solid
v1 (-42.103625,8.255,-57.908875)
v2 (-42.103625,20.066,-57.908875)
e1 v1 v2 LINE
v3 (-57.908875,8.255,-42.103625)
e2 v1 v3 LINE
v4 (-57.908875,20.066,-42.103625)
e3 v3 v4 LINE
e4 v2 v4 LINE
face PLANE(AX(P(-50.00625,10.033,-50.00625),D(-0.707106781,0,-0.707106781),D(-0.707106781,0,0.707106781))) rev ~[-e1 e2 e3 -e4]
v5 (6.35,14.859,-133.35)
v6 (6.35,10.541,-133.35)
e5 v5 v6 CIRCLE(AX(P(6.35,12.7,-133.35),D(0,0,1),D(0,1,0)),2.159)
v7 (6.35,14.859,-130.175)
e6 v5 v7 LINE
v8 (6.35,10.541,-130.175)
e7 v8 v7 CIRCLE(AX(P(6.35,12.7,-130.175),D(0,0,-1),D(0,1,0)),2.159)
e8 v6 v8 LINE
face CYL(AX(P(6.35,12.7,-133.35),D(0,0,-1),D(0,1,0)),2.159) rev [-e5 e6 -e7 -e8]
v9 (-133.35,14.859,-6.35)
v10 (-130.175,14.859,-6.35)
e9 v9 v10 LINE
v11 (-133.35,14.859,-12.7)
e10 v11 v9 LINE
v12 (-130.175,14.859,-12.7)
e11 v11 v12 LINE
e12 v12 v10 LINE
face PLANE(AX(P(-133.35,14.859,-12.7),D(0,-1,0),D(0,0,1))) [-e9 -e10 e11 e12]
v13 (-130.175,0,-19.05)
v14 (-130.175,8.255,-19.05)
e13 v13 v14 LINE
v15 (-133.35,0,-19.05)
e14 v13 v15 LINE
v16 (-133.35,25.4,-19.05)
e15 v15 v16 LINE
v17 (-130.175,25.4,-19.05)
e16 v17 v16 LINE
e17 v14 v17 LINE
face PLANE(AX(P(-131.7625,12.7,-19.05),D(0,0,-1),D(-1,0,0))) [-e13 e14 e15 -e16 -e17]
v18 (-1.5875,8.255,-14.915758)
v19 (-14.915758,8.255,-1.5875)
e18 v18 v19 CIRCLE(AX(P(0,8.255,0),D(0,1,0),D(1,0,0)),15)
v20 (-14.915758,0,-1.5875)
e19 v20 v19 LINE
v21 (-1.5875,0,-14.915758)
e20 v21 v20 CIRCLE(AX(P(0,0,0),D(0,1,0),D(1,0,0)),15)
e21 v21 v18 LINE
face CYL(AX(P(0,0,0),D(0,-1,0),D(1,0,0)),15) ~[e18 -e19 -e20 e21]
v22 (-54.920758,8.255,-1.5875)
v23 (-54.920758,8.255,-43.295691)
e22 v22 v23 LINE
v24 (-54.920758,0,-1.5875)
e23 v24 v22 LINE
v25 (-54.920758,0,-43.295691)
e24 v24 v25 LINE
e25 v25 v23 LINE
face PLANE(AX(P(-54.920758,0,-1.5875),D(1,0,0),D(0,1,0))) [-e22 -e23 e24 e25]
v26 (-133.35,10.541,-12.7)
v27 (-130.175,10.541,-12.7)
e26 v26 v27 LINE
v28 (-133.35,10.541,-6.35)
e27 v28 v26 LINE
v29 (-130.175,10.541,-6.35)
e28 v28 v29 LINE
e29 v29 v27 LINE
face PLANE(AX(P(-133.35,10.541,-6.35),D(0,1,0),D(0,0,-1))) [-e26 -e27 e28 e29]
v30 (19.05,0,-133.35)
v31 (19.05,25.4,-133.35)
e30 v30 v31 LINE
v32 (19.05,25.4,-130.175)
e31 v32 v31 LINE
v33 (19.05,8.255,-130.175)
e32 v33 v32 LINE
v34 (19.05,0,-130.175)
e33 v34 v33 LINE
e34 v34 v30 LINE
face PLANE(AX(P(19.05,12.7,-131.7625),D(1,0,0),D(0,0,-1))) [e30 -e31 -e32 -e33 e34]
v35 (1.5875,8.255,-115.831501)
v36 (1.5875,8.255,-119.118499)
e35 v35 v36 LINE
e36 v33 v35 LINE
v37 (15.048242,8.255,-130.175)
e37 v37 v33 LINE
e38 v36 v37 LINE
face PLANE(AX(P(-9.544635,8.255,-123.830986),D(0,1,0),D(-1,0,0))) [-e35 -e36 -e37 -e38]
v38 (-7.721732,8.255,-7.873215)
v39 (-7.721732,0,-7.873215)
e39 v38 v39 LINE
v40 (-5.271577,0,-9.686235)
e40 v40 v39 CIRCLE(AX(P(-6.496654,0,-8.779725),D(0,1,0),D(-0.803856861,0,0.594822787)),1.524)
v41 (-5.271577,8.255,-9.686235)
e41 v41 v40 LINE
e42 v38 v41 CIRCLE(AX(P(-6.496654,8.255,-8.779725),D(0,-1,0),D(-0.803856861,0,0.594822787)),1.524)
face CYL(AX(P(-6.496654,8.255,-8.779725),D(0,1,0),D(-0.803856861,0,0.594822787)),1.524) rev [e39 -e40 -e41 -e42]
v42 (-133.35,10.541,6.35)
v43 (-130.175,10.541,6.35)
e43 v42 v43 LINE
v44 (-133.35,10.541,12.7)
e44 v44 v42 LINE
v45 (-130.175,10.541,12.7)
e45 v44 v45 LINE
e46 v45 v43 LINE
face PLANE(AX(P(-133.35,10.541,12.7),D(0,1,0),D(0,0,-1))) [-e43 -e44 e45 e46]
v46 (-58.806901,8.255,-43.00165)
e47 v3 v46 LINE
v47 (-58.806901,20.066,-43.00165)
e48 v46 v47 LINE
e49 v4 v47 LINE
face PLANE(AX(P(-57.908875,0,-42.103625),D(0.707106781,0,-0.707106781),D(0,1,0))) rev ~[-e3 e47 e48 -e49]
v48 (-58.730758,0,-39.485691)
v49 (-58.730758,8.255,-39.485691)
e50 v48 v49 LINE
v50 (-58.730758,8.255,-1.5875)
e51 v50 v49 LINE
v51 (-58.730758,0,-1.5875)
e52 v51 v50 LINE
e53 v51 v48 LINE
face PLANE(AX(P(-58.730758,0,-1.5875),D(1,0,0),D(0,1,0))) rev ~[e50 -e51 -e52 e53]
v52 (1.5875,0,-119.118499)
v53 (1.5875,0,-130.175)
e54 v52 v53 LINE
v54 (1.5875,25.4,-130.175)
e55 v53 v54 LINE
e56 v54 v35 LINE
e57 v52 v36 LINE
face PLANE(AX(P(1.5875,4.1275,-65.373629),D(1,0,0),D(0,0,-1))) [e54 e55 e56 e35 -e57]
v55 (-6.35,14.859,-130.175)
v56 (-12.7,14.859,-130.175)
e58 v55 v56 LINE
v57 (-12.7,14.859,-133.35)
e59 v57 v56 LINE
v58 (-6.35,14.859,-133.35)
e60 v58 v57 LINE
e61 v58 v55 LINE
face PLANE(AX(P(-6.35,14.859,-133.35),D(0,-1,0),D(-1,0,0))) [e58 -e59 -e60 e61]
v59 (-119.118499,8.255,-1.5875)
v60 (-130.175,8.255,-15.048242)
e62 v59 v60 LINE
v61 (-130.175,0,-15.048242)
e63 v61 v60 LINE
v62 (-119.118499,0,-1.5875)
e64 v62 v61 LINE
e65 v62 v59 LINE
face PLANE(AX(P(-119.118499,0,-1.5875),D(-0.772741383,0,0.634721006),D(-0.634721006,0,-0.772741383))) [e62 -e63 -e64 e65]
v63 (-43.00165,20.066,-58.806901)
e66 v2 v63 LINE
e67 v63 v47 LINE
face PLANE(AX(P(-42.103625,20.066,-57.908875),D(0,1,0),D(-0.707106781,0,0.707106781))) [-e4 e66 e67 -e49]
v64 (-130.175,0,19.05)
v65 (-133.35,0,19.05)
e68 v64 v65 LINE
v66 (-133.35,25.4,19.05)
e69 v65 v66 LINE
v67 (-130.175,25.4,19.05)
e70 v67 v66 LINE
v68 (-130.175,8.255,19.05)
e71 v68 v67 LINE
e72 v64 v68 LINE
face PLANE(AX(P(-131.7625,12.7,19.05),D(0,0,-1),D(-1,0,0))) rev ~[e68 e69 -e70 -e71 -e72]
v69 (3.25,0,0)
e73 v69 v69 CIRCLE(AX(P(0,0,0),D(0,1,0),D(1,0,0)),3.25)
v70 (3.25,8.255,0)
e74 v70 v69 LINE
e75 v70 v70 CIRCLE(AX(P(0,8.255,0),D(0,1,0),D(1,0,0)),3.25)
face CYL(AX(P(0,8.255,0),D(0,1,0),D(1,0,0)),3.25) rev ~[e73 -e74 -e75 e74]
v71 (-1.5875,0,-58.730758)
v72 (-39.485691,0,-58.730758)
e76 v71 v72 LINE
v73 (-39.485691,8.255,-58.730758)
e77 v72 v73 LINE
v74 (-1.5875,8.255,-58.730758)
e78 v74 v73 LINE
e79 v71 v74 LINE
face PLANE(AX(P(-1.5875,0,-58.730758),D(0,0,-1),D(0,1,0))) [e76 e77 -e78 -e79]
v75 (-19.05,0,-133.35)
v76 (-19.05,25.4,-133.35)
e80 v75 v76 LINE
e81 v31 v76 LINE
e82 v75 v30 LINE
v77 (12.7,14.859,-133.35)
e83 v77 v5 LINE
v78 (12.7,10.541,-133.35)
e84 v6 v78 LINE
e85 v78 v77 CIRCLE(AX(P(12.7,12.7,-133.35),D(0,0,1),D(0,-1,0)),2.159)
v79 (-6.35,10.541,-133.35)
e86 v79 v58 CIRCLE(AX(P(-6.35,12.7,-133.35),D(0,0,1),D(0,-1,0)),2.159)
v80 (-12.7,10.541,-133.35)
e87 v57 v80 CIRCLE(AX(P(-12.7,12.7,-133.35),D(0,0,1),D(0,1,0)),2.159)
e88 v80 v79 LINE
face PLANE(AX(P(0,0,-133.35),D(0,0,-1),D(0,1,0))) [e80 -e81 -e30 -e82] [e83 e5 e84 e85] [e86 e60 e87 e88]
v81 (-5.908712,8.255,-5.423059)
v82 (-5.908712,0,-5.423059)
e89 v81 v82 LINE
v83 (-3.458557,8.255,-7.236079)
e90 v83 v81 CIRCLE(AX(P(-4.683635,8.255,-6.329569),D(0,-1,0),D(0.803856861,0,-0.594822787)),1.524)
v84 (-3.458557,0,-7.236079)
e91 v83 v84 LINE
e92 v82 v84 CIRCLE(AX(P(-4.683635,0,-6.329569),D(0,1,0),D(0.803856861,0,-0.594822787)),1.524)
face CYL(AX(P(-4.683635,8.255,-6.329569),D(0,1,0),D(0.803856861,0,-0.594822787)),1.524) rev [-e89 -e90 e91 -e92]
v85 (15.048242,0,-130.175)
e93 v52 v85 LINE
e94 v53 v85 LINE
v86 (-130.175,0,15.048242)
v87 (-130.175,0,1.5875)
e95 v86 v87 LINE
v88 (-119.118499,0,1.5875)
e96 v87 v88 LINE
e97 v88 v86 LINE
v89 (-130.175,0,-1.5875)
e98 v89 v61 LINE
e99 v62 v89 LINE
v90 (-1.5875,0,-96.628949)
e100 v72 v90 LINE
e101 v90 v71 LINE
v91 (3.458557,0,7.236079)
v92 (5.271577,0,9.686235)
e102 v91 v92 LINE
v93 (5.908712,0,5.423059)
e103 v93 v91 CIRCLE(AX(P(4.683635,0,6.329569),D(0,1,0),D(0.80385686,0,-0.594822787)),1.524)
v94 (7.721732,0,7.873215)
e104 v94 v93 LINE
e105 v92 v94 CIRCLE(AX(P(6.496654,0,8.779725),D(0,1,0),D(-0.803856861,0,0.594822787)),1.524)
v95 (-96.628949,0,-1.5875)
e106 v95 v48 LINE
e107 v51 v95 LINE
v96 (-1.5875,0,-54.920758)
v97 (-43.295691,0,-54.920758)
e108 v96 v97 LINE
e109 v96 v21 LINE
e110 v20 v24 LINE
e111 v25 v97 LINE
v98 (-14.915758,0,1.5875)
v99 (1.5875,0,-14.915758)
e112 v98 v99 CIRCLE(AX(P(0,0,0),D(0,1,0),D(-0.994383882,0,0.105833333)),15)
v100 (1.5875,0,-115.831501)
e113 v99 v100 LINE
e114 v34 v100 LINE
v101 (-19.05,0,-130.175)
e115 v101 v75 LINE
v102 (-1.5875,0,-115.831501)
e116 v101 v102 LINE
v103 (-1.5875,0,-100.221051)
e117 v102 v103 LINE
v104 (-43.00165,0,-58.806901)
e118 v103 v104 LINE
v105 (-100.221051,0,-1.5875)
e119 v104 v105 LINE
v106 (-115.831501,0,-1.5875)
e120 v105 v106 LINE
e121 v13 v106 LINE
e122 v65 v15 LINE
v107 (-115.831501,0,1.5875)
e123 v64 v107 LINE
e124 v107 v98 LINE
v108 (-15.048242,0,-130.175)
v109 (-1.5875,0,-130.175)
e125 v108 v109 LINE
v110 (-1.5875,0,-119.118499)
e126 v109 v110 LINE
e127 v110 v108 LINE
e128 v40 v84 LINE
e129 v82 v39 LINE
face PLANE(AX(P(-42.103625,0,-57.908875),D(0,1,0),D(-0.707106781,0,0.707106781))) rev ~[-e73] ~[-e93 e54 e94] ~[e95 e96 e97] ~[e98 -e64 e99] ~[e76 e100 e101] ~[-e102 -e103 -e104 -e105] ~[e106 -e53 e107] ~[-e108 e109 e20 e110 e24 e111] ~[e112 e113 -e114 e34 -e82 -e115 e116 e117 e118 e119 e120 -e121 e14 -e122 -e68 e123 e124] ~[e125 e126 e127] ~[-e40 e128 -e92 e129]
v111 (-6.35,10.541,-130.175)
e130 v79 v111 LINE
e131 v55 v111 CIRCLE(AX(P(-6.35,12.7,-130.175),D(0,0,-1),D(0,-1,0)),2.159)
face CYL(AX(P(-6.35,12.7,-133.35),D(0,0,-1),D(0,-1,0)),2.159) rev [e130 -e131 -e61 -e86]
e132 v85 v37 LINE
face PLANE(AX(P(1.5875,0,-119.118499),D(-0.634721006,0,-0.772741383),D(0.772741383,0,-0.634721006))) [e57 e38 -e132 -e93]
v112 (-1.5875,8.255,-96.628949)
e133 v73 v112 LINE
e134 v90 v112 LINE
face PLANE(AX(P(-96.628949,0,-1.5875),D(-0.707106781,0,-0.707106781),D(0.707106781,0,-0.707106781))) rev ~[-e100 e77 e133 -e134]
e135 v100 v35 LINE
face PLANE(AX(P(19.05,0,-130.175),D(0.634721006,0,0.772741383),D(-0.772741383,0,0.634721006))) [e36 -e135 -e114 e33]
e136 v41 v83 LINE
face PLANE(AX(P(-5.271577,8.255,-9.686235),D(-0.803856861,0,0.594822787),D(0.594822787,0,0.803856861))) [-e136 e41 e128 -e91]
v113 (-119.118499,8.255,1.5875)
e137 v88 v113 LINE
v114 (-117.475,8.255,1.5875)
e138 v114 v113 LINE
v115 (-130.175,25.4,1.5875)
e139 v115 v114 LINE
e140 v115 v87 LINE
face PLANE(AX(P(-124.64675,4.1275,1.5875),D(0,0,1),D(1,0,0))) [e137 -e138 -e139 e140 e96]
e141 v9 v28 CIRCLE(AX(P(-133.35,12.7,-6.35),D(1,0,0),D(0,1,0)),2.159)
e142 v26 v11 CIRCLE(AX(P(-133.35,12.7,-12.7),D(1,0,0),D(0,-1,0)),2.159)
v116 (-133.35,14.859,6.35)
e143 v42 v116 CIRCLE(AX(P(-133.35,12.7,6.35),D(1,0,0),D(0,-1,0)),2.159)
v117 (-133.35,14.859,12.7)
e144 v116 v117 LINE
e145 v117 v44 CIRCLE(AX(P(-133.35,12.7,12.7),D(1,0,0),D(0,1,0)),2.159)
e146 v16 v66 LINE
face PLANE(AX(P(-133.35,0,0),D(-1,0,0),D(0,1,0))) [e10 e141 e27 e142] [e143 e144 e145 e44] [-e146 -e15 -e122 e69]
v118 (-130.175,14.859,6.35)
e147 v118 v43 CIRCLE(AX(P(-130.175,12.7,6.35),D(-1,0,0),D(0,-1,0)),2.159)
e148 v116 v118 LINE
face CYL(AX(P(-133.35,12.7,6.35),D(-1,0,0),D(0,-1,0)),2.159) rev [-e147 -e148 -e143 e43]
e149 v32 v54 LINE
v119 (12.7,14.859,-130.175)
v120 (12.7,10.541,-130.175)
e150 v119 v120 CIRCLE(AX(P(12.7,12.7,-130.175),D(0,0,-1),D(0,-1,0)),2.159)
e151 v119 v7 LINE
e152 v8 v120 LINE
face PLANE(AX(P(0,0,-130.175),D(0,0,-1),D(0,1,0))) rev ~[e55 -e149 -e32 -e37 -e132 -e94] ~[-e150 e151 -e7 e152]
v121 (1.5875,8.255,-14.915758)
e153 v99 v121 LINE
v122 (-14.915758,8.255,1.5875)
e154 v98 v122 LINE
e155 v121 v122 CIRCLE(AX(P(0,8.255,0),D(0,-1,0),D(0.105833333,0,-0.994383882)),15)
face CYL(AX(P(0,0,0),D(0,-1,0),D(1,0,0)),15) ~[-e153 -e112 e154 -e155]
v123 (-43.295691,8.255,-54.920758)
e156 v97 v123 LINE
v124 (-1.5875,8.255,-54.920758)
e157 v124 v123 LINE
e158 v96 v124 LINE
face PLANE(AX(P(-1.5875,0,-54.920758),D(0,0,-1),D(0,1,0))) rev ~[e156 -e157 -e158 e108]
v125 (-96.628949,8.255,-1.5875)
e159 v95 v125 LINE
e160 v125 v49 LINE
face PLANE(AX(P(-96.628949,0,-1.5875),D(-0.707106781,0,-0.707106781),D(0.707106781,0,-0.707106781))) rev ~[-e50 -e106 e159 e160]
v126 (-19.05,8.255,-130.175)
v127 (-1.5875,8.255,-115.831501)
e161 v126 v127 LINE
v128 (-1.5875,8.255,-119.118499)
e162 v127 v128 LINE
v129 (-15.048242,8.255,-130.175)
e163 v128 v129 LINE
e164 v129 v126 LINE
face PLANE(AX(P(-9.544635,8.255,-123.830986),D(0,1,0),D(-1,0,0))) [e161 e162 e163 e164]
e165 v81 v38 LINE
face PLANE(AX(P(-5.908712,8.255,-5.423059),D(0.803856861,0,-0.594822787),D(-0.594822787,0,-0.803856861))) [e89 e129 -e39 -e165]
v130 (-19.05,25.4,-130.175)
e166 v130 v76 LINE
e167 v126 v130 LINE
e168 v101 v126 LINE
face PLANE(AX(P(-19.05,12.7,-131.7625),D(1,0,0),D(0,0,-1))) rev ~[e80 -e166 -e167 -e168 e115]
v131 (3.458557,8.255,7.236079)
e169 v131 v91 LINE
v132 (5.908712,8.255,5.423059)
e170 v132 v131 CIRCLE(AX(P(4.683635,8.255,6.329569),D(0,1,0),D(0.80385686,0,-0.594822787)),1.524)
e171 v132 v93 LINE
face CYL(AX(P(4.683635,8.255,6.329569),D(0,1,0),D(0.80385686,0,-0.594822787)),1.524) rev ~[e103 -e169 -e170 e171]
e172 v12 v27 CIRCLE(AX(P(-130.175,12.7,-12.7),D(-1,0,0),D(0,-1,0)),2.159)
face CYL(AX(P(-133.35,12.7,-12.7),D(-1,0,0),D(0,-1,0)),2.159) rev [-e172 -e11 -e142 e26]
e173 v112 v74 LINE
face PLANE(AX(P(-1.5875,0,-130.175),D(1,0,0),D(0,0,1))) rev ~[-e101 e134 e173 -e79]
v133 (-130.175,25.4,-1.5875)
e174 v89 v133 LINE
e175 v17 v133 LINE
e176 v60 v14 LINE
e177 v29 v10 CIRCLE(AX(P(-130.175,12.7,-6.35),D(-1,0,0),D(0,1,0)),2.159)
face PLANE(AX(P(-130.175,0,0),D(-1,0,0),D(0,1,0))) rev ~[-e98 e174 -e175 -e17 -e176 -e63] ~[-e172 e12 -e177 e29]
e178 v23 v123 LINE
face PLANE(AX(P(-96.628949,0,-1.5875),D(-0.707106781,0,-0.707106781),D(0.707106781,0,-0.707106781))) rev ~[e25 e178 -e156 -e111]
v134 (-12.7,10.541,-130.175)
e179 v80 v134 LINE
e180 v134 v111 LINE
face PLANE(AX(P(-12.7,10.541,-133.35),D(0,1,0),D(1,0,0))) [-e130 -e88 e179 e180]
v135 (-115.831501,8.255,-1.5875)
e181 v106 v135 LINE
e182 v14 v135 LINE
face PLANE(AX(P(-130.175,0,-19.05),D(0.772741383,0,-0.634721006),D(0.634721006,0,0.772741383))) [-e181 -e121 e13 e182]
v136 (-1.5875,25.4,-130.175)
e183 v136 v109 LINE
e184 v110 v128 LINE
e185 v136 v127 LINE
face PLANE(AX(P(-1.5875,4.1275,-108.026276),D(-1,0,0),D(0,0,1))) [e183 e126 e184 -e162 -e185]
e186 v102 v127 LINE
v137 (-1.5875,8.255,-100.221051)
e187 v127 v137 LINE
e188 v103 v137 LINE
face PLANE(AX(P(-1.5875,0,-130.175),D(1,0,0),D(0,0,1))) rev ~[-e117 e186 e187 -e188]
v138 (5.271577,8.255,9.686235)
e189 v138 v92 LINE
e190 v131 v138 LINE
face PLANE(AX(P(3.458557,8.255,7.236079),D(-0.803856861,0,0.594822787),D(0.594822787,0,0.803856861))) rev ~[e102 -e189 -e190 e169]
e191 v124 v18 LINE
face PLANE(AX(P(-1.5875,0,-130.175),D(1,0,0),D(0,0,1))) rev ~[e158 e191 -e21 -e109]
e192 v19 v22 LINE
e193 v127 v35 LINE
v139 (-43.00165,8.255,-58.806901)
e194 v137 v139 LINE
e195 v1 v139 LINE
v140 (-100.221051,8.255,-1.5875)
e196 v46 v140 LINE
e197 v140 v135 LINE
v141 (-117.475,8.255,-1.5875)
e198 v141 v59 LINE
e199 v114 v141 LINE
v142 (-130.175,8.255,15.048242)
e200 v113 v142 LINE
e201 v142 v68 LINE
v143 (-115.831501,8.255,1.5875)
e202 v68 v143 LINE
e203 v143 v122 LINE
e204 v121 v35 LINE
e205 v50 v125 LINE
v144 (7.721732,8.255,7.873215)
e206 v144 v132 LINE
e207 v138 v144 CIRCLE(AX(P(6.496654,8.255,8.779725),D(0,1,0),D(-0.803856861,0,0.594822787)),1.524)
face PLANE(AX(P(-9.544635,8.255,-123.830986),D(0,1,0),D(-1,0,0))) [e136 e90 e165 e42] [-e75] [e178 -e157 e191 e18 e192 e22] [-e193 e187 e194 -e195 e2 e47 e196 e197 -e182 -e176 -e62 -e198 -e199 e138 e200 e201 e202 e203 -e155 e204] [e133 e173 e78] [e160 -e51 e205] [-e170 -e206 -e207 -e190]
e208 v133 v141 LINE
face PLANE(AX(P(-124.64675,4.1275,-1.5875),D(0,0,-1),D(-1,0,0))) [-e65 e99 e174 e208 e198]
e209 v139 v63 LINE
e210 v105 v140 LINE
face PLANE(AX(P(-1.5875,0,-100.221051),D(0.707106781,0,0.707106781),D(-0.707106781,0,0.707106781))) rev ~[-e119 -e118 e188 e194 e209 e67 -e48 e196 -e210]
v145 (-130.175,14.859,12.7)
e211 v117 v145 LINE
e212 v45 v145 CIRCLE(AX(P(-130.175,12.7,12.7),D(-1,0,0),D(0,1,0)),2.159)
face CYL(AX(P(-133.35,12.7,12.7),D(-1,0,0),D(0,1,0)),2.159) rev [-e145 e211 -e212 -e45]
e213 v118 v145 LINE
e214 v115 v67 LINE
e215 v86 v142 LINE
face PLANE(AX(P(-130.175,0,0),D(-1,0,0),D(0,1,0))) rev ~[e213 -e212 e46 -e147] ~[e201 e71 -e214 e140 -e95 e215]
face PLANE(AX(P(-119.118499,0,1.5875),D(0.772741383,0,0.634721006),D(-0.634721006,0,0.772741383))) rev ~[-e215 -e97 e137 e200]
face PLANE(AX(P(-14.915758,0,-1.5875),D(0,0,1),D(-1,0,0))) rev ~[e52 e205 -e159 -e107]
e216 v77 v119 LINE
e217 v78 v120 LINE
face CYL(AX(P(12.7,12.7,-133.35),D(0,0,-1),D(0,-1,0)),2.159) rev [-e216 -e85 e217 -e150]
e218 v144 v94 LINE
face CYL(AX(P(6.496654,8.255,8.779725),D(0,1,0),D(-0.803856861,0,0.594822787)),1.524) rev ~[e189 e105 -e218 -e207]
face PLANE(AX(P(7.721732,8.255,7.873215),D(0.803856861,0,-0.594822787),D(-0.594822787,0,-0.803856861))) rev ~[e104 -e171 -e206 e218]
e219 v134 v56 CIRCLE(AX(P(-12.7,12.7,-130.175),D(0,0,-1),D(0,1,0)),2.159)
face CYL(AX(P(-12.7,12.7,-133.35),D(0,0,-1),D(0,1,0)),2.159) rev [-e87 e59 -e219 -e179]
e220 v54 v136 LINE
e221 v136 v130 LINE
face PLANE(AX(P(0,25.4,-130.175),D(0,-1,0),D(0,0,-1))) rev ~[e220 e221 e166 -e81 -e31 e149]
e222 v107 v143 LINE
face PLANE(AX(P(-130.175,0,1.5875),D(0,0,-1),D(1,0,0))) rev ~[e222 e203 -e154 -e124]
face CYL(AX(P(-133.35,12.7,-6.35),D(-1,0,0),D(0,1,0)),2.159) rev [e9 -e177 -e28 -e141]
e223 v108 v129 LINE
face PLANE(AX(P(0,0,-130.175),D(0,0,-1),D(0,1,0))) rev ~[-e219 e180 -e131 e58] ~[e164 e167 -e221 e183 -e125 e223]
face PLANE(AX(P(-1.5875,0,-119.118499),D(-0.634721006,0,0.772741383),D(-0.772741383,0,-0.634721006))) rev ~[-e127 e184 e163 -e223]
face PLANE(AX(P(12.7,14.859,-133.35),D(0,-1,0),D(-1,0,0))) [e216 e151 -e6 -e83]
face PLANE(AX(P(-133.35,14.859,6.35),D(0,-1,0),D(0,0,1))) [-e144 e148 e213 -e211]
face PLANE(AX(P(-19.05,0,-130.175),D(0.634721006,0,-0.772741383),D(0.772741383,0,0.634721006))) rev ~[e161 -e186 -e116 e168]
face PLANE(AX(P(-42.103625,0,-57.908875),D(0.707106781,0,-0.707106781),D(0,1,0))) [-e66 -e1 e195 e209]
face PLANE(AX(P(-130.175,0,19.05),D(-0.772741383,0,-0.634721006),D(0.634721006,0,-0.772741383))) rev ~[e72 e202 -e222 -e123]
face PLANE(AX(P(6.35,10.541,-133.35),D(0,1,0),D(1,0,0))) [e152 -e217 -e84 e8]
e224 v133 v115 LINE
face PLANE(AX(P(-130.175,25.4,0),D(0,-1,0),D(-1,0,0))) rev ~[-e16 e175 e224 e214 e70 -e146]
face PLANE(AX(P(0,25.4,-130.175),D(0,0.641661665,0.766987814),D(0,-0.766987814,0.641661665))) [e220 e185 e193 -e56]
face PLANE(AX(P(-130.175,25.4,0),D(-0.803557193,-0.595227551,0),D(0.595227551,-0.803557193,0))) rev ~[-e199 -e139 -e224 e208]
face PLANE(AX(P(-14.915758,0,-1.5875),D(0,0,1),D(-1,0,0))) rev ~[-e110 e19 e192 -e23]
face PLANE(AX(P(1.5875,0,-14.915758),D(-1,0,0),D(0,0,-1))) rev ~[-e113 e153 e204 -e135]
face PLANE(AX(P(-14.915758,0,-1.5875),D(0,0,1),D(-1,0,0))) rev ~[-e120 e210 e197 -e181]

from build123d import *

# Parameters (mm, degrees)
SKETCH1_R                       = 15
BOSS_EXTRUDE2_DEPTH             = 8.255
BOSS_EXTRUDE3_DEPTH             = 8.255
SKETCH5_R                       = 3.249999977
CUT_EXTRUDE3_DEPTH              = 63.5
SKETCH7_W                       = 3.175
SKETCH7_H                       = 25.4
BOSS_EXTRUDE5_DEPTH             = 19.05
CUT_EXTRUDE6_DEPTH              = 149.35
CIRPATTERN2_COUNT               = 2
CIRPATTERN2_ANGLE               = 90
CIRPATTERN3_COUNT               = 2
CIRPATTERN3_ANGLE               = 90
BOSS_EXTRUDE6_DEPTH             = 8.255
BOSS_EXTRUDE7_REACH             = 21.05
BOSS_EXTRUDE7_DIRECTION_2_REACH = 135.35
BOSS_EXTRUDE8_REACH             = 21.05
BOSS_EXTRUDE8_DIRECTION_2_REACH = 135.35
BOSS_EXTRUDE9_REACH             = 133.763
SKETCH19_W                      = 3.81
SKETCH19_H                      = 8.255
BOSS_EXTRUDE10_REACH            = 133.763
SKETCH20_W                      = 3.81
SKETCH20_H                      = 8.255
SKETCH21_W                      = 22.352
SKETCH21_H                      = 20.066
BOSS_EXTRUDE11_DEPTH            = 1.27


with BuildPart() as part:
    # Sketch1 → Boss-Extrude2 (new body)
    with BuildSketch(Plane(origin=(0, 0, 0), x_dir=(1, 0, 0), z_dir=(0, 1, 0))):
        Circle(SKETCH1_R)
    extrude(amount=BOSS_EXTRUDE2_DEPTH)

    # Sketch1<6> → Boss-Extrude3 (add)
    with BuildSketch(Plane(origin=(0, 0, 0), x_dir=(1, 0, 0), z_dir=(0, 1, 0))):
        with BuildLine():
            Line((-1.5875, 130.175), (-1.5875, 14.915758236))
            ThreePointArc((-1.5875, 14.915758236), (0, 15), (1.5875, 14.915758236))
            Line((1.5875, 14.915758236), (1.5875, 130.175))
            Line((1.5875, 130.175), (-1.5875, 130.175))
        make_face()
        with BuildLine():
            ThreePointArc((-14.915758236, -1.5875), (-15, 0), (-14.915758236, 1.5875))
            Line((-14.915758236, 1.5875), (-130.175, 1.5875))
            Line((-130.175, 1.5875), (-130.175, -1.5875))
            Line((-130.175, -1.5875), (-14.915758236, -1.5875))
        make_face()
    extrude(amount=BOSS_EXTRUDE3_DEPTH)

    # Sketch5 → Cut-Extrude3 (cut)
    with BuildSketch(Plane(origin=(0, 8.255, 0), x_dir=(1, 0, 0), z_dir=(0, 1, 0))):
        Circle(SKETCH5_R)
        with BuildLine():
            Line((-5.908712478, 5.423058993), (-7.721732332, 7.873214705))
            ThreePointArc((-7.721732332, 7.873214705), (-7.403164404, 10.004802487), (-5.271576621, 9.686234559))
            Line((-5.271576621, 9.686234559), (-3.458556767, 7.236078848))
            ThreePointArc((-3.458556767, 7.236078848), (-3.777124696, 5.104491065), (-5.908712478, 5.423058993))
        make_face()
        with BuildLine():
            Line((3.458556767, -7.236078848), (5.271576621, -9.686234559))
            ThreePointArc((5.271576621, -9.686234559), (7.403164404, -10.004802487), (7.721732332, -7.873214705))
            Line((7.721732332, -7.873214705), (5.908712478, -5.423058993))
            ThreePointArc((5.908712478, -5.423058993), (3.777124696, -5.104491065), (3.458556767, -7.236078848))
        make_face()
    extrude(amount=-CUT_EXTRUDE3_DEPTH, mode=Mode.SUBTRACT)

    # Sketch7 → Boss-Extrude5 (add, symmetric)
    with BuildSketch(Plane(origin=(0, 0, 0), x_dir=(0, 0, -1), z_dir=(1, 0, 0))):
        with Locations((131.7625, 12.7)):
            Rectangle(SKETCH7_W, SKETCH7_H)
    boss_extrude5 = extrude(amount=BOSS_EXTRUDE5_DEPTH, both=True)

    # Sketch12 → Cut-Extrude6 (cut, through all)
    with BuildSketch(Plane(origin=(0, 0, -133.35), x_dir=(-1, 0, 0), z_dir=(0, 0, -1))):
        with BuildLine():
            Line((-6.35, 10.541), (-12.7, 10.541))
            ThreePointArc((-12.7, 10.541), (-14.859, 12.7), (-12.7, 14.859))
            Line((-12.7, 14.859), (-6.35, 14.859))
            ThreePointArc((-6.35, 14.859), (-4.191, 12.7), (-6.35, 10.541))
        make_face()
        with BuildLine():
            Line((6.35, 14.859), (12.7, 14.859))
            ThreePointArc((12.7, 14.859), (14.859, 12.7), (12.7, 10.541))
            Line((12.7, 10.541), (6.35, 10.541))
            ThreePointArc((6.35, 10.541), (4.191, 12.7), (6.35, 14.859))
        make_face()
    cut_extrude6 = extrude(amount=-CUT_EXTRUDE6_DEPTH, mode=Mode.SUBTRACT)

    # CirPattern2: Boss-Extrude5 ×2 about axis
    cirpattern2_axis = Axis((0, 0, 0), (0, 1, 0))
    for i in range(1, CIRPATTERN2_COUNT):
        add(boss_extrude5.rotate(cirpattern2_axis, i * CIRPATTERN2_ANGLE / (CIRPATTERN2_COUNT - 1)))

    # CirPattern3: Cut-Extrude6 ×2 about axis
    cirpattern3_axis = Axis((0, 0, 0), (0, 1, 0))
    for i in range(1, CIRPATTERN3_COUNT):
        add(cut_extrude6.rotate(cirpattern3_axis, i * CIRPATTERN3_ANGLE / (CIRPATTERN3_COUNT - 1)), mode=Mode.SUBTRACT)

    # Sketch13 → Boss-Extrude6 (add)
    with BuildSketch(Plane.XZ):
        Polygon((-96.628948776, -1.5875), (-1.5875, -96.628948776), (-1.5875, -100.221051224), (-100.221051224, -1.5875), align=None)
        Polygon((-19.05, -130.175), (-1.5875, -115.831500599), (-1.5875, -119.118499401), (-15.048241783, -130.175), align=None)
        Polygon((19.05, -130.175), (1.5875, -115.831500599), (1.5875, -119.118499401), (15.048241783, -130.175), align=None)
        Polygon((-119.118499401, 1.5875), (-130.175, 15.048241783), (-130.175, 19.05), (-115.831500599, 1.5875), align=None)
        Polygon((-119.118499401, -1.5875), (-130.175, -15.048241783), (-130.175, -19.05), (-115.831500599, -1.5875), align=None)
    extrude(amount=-BOSS_EXTRUDE6_DEPTH)

    # Boss-Extrude7: up to this face of the body (flat: up to its plane)
    boss_extrude7_end = Plane(part.part.faces().sort_by_distance((-124.646749701, 4.1275, 1.5875))[0])
    # Sketch14 → Boss-Extrude7 (add, up to the picked face)
    with BuildSketch(Plane.XY, mode=Mode.PRIVATE) as boss_extrude7_sk1:
        Polygon((-130.175, 25.4), (-117.475, 8.255), (-130.175, 8.255), align=None)
    boss_extrude7_tool1 = split(extrude(boss_extrude7_sk1.sketch, amount=BOSS_EXTRUDE7_REACH, mode=Mode.PRIVATE), bisect_by=boss_extrude7_end, keep=Keep.BOTH, mode=Mode.PRIVATE)
    add(boss_extrude7_tool1.solids().sort_by_distance((-125.941667, 13.97, 0))[0])

    # Boss-Extrude7 direction 2: up to this face of the body (flat: up to its plane)
    boss_extrude7_direction_2_end = Plane(part.part.faces().sort_by_distance((-124.646749701, 4.1275, -1.5875))[0])
    # Sketch14 → Boss-Extrude7 direction 2 (add, up to the picked face)
    with BuildSketch(Plane.XY, mode=Mode.PRIVATE) as boss_extrude7_direction_2_sk1:
        Polygon((-130.175, 25.4), (-117.475, 8.255), (-130.175, 8.255), align=None)
    boss_extrude7_direction_2_tool1 = split(extrude(boss_extrude7_direction_2_sk1.sketch, amount=-BOSS_EXTRUDE7_DIRECTION_2_REACH, mode=Mode.PRIVATE), bisect_by=boss_extrude7_direction_2_end, keep=Keep.BOTH, mode=Mode.PRIVATE)
    add(boss_extrude7_direction_2_tool1.solids().sort_by_distance((-125.941667, 13.97, 0))[0])

    # Boss-Extrude8: up to this face of the body (flat: up to its plane)
    boss_extrude8_end = Plane(part.part.faces().sort_by_distance((1.5875, 4.1275, -65.373629417))[0])
    # Sketch15 → Boss-Extrude8 (add, up to the picked face)
    with BuildSketch(Plane(origin=(0, 0, 0), x_dir=(0, 0, -1), z_dir=(1, 0, 0)), mode=Mode.PRIVATE) as boss_extrude8_sk1:
        Polygon((130.175, 25.4), (115.831500599, 8.255), (130.175, 8.255), align=None)
    boss_extrude8_tool1 = split(extrude(boss_extrude8_sk1.sketch, amount=BOSS_EXTRUDE8_REACH, mode=Mode.PRIVATE), bisect_by=boss_extrude8_end, keep=Keep.BOTH, mode=Mode.PRIVATE)
    add(boss_extrude8_tool1.solids().sort_by_distance((0, 13.97, -125.393834))[0])

    # Boss-Extrude8 direction 2: up to this face of the body (flat: up to its plane)
    boss_extrude8_direction_2_end = Plane(part.part.faces().sort_by_distance((-1.5875, 4.1275, -108.026275912))[0])
    # Sketch15 → Boss-Extrude8 direction 2 (add, up to the picked face)
    with BuildSketch(Plane(origin=(0, 0, 0), x_dir=(0, 0, -1), z_dir=(1, 0, 0)), mode=Mode.PRIVATE) as boss_extrude8_direction_2_sk1:
        Polygon((130.175, 25.4), (115.831500599, 8.255), (130.175, 8.255), align=None)
    boss_extrude8_direction_2_tool1 = split(extrude(boss_extrude8_direction_2_sk1.sketch, amount=-BOSS_EXTRUDE8_DIRECTION_2_REACH, mode=Mode.PRIVATE), bisect_by=boss_extrude8_direction_2_end, keep=Keep.BOTH, mode=Mode.PRIVATE)
    add(boss_extrude8_direction_2_tool1.solids().sort_by_distance((0, 13.97, -125.393834))[0])

    # Sketch19 → Boss-Extrude9 (add, up to next)
    with BuildSketch(Plane.ZY.offset(1.5875), mode=Mode.PRIVATE) as boss_extrude9_sk1:
        with Locations((-56.825758236, 4.1275)):
            Rectangle(SKETCH19_W, SKETCH19_H)
    boss_extrude9_tool1 = extrude(boss_extrude9_sk1.sketch, amount=BOSS_EXTRUDE9_REACH, mode=Mode.PRIVATE) - part.part
    add(boss_extrude9_tool1.solids().sort_by_distance((-1.5875, 4.1275, -56.825758))[0])

    # Sketch20 → Boss-Extrude10 (add, up to next)
    with BuildSketch(Plane(origin=(0, 0, -1.5875), x_dir=(-1, 0, 0), z_dir=(0, 0, -1)), mode=Mode.PRIVATE) as boss_extrude10_sk1:
        with Locations((56.825758236, 4.1275)):
            Rectangle(SKETCH20_W, SKETCH20_H)
    boss_extrude10_tool1 = extrude(boss_extrude10_sk1.sketch, amount=BOSS_EXTRUDE10_REACH, mode=Mode.PRIVATE) - part.part
    add(boss_extrude10_tool1.solids().sort_by_distance((-56.825758, 4.1275, -1.5875))[0])

    # Sketch21 → Boss-Extrude11 (add)
    with BuildSketch(Plane(origin=(-50.00625, 0, -50.00625), x_dir=(-0.707106781, 0, 0.707106781), z_dir=(-0.707106781, 0, -0.707106781))):
        with Locations((0, 10.033)):
            Rectangle(SKETCH21_W, SKETCH21_H)
    extrude(amount=BOSS_EXTRUDE11_DEPTH)


solid = part.part
